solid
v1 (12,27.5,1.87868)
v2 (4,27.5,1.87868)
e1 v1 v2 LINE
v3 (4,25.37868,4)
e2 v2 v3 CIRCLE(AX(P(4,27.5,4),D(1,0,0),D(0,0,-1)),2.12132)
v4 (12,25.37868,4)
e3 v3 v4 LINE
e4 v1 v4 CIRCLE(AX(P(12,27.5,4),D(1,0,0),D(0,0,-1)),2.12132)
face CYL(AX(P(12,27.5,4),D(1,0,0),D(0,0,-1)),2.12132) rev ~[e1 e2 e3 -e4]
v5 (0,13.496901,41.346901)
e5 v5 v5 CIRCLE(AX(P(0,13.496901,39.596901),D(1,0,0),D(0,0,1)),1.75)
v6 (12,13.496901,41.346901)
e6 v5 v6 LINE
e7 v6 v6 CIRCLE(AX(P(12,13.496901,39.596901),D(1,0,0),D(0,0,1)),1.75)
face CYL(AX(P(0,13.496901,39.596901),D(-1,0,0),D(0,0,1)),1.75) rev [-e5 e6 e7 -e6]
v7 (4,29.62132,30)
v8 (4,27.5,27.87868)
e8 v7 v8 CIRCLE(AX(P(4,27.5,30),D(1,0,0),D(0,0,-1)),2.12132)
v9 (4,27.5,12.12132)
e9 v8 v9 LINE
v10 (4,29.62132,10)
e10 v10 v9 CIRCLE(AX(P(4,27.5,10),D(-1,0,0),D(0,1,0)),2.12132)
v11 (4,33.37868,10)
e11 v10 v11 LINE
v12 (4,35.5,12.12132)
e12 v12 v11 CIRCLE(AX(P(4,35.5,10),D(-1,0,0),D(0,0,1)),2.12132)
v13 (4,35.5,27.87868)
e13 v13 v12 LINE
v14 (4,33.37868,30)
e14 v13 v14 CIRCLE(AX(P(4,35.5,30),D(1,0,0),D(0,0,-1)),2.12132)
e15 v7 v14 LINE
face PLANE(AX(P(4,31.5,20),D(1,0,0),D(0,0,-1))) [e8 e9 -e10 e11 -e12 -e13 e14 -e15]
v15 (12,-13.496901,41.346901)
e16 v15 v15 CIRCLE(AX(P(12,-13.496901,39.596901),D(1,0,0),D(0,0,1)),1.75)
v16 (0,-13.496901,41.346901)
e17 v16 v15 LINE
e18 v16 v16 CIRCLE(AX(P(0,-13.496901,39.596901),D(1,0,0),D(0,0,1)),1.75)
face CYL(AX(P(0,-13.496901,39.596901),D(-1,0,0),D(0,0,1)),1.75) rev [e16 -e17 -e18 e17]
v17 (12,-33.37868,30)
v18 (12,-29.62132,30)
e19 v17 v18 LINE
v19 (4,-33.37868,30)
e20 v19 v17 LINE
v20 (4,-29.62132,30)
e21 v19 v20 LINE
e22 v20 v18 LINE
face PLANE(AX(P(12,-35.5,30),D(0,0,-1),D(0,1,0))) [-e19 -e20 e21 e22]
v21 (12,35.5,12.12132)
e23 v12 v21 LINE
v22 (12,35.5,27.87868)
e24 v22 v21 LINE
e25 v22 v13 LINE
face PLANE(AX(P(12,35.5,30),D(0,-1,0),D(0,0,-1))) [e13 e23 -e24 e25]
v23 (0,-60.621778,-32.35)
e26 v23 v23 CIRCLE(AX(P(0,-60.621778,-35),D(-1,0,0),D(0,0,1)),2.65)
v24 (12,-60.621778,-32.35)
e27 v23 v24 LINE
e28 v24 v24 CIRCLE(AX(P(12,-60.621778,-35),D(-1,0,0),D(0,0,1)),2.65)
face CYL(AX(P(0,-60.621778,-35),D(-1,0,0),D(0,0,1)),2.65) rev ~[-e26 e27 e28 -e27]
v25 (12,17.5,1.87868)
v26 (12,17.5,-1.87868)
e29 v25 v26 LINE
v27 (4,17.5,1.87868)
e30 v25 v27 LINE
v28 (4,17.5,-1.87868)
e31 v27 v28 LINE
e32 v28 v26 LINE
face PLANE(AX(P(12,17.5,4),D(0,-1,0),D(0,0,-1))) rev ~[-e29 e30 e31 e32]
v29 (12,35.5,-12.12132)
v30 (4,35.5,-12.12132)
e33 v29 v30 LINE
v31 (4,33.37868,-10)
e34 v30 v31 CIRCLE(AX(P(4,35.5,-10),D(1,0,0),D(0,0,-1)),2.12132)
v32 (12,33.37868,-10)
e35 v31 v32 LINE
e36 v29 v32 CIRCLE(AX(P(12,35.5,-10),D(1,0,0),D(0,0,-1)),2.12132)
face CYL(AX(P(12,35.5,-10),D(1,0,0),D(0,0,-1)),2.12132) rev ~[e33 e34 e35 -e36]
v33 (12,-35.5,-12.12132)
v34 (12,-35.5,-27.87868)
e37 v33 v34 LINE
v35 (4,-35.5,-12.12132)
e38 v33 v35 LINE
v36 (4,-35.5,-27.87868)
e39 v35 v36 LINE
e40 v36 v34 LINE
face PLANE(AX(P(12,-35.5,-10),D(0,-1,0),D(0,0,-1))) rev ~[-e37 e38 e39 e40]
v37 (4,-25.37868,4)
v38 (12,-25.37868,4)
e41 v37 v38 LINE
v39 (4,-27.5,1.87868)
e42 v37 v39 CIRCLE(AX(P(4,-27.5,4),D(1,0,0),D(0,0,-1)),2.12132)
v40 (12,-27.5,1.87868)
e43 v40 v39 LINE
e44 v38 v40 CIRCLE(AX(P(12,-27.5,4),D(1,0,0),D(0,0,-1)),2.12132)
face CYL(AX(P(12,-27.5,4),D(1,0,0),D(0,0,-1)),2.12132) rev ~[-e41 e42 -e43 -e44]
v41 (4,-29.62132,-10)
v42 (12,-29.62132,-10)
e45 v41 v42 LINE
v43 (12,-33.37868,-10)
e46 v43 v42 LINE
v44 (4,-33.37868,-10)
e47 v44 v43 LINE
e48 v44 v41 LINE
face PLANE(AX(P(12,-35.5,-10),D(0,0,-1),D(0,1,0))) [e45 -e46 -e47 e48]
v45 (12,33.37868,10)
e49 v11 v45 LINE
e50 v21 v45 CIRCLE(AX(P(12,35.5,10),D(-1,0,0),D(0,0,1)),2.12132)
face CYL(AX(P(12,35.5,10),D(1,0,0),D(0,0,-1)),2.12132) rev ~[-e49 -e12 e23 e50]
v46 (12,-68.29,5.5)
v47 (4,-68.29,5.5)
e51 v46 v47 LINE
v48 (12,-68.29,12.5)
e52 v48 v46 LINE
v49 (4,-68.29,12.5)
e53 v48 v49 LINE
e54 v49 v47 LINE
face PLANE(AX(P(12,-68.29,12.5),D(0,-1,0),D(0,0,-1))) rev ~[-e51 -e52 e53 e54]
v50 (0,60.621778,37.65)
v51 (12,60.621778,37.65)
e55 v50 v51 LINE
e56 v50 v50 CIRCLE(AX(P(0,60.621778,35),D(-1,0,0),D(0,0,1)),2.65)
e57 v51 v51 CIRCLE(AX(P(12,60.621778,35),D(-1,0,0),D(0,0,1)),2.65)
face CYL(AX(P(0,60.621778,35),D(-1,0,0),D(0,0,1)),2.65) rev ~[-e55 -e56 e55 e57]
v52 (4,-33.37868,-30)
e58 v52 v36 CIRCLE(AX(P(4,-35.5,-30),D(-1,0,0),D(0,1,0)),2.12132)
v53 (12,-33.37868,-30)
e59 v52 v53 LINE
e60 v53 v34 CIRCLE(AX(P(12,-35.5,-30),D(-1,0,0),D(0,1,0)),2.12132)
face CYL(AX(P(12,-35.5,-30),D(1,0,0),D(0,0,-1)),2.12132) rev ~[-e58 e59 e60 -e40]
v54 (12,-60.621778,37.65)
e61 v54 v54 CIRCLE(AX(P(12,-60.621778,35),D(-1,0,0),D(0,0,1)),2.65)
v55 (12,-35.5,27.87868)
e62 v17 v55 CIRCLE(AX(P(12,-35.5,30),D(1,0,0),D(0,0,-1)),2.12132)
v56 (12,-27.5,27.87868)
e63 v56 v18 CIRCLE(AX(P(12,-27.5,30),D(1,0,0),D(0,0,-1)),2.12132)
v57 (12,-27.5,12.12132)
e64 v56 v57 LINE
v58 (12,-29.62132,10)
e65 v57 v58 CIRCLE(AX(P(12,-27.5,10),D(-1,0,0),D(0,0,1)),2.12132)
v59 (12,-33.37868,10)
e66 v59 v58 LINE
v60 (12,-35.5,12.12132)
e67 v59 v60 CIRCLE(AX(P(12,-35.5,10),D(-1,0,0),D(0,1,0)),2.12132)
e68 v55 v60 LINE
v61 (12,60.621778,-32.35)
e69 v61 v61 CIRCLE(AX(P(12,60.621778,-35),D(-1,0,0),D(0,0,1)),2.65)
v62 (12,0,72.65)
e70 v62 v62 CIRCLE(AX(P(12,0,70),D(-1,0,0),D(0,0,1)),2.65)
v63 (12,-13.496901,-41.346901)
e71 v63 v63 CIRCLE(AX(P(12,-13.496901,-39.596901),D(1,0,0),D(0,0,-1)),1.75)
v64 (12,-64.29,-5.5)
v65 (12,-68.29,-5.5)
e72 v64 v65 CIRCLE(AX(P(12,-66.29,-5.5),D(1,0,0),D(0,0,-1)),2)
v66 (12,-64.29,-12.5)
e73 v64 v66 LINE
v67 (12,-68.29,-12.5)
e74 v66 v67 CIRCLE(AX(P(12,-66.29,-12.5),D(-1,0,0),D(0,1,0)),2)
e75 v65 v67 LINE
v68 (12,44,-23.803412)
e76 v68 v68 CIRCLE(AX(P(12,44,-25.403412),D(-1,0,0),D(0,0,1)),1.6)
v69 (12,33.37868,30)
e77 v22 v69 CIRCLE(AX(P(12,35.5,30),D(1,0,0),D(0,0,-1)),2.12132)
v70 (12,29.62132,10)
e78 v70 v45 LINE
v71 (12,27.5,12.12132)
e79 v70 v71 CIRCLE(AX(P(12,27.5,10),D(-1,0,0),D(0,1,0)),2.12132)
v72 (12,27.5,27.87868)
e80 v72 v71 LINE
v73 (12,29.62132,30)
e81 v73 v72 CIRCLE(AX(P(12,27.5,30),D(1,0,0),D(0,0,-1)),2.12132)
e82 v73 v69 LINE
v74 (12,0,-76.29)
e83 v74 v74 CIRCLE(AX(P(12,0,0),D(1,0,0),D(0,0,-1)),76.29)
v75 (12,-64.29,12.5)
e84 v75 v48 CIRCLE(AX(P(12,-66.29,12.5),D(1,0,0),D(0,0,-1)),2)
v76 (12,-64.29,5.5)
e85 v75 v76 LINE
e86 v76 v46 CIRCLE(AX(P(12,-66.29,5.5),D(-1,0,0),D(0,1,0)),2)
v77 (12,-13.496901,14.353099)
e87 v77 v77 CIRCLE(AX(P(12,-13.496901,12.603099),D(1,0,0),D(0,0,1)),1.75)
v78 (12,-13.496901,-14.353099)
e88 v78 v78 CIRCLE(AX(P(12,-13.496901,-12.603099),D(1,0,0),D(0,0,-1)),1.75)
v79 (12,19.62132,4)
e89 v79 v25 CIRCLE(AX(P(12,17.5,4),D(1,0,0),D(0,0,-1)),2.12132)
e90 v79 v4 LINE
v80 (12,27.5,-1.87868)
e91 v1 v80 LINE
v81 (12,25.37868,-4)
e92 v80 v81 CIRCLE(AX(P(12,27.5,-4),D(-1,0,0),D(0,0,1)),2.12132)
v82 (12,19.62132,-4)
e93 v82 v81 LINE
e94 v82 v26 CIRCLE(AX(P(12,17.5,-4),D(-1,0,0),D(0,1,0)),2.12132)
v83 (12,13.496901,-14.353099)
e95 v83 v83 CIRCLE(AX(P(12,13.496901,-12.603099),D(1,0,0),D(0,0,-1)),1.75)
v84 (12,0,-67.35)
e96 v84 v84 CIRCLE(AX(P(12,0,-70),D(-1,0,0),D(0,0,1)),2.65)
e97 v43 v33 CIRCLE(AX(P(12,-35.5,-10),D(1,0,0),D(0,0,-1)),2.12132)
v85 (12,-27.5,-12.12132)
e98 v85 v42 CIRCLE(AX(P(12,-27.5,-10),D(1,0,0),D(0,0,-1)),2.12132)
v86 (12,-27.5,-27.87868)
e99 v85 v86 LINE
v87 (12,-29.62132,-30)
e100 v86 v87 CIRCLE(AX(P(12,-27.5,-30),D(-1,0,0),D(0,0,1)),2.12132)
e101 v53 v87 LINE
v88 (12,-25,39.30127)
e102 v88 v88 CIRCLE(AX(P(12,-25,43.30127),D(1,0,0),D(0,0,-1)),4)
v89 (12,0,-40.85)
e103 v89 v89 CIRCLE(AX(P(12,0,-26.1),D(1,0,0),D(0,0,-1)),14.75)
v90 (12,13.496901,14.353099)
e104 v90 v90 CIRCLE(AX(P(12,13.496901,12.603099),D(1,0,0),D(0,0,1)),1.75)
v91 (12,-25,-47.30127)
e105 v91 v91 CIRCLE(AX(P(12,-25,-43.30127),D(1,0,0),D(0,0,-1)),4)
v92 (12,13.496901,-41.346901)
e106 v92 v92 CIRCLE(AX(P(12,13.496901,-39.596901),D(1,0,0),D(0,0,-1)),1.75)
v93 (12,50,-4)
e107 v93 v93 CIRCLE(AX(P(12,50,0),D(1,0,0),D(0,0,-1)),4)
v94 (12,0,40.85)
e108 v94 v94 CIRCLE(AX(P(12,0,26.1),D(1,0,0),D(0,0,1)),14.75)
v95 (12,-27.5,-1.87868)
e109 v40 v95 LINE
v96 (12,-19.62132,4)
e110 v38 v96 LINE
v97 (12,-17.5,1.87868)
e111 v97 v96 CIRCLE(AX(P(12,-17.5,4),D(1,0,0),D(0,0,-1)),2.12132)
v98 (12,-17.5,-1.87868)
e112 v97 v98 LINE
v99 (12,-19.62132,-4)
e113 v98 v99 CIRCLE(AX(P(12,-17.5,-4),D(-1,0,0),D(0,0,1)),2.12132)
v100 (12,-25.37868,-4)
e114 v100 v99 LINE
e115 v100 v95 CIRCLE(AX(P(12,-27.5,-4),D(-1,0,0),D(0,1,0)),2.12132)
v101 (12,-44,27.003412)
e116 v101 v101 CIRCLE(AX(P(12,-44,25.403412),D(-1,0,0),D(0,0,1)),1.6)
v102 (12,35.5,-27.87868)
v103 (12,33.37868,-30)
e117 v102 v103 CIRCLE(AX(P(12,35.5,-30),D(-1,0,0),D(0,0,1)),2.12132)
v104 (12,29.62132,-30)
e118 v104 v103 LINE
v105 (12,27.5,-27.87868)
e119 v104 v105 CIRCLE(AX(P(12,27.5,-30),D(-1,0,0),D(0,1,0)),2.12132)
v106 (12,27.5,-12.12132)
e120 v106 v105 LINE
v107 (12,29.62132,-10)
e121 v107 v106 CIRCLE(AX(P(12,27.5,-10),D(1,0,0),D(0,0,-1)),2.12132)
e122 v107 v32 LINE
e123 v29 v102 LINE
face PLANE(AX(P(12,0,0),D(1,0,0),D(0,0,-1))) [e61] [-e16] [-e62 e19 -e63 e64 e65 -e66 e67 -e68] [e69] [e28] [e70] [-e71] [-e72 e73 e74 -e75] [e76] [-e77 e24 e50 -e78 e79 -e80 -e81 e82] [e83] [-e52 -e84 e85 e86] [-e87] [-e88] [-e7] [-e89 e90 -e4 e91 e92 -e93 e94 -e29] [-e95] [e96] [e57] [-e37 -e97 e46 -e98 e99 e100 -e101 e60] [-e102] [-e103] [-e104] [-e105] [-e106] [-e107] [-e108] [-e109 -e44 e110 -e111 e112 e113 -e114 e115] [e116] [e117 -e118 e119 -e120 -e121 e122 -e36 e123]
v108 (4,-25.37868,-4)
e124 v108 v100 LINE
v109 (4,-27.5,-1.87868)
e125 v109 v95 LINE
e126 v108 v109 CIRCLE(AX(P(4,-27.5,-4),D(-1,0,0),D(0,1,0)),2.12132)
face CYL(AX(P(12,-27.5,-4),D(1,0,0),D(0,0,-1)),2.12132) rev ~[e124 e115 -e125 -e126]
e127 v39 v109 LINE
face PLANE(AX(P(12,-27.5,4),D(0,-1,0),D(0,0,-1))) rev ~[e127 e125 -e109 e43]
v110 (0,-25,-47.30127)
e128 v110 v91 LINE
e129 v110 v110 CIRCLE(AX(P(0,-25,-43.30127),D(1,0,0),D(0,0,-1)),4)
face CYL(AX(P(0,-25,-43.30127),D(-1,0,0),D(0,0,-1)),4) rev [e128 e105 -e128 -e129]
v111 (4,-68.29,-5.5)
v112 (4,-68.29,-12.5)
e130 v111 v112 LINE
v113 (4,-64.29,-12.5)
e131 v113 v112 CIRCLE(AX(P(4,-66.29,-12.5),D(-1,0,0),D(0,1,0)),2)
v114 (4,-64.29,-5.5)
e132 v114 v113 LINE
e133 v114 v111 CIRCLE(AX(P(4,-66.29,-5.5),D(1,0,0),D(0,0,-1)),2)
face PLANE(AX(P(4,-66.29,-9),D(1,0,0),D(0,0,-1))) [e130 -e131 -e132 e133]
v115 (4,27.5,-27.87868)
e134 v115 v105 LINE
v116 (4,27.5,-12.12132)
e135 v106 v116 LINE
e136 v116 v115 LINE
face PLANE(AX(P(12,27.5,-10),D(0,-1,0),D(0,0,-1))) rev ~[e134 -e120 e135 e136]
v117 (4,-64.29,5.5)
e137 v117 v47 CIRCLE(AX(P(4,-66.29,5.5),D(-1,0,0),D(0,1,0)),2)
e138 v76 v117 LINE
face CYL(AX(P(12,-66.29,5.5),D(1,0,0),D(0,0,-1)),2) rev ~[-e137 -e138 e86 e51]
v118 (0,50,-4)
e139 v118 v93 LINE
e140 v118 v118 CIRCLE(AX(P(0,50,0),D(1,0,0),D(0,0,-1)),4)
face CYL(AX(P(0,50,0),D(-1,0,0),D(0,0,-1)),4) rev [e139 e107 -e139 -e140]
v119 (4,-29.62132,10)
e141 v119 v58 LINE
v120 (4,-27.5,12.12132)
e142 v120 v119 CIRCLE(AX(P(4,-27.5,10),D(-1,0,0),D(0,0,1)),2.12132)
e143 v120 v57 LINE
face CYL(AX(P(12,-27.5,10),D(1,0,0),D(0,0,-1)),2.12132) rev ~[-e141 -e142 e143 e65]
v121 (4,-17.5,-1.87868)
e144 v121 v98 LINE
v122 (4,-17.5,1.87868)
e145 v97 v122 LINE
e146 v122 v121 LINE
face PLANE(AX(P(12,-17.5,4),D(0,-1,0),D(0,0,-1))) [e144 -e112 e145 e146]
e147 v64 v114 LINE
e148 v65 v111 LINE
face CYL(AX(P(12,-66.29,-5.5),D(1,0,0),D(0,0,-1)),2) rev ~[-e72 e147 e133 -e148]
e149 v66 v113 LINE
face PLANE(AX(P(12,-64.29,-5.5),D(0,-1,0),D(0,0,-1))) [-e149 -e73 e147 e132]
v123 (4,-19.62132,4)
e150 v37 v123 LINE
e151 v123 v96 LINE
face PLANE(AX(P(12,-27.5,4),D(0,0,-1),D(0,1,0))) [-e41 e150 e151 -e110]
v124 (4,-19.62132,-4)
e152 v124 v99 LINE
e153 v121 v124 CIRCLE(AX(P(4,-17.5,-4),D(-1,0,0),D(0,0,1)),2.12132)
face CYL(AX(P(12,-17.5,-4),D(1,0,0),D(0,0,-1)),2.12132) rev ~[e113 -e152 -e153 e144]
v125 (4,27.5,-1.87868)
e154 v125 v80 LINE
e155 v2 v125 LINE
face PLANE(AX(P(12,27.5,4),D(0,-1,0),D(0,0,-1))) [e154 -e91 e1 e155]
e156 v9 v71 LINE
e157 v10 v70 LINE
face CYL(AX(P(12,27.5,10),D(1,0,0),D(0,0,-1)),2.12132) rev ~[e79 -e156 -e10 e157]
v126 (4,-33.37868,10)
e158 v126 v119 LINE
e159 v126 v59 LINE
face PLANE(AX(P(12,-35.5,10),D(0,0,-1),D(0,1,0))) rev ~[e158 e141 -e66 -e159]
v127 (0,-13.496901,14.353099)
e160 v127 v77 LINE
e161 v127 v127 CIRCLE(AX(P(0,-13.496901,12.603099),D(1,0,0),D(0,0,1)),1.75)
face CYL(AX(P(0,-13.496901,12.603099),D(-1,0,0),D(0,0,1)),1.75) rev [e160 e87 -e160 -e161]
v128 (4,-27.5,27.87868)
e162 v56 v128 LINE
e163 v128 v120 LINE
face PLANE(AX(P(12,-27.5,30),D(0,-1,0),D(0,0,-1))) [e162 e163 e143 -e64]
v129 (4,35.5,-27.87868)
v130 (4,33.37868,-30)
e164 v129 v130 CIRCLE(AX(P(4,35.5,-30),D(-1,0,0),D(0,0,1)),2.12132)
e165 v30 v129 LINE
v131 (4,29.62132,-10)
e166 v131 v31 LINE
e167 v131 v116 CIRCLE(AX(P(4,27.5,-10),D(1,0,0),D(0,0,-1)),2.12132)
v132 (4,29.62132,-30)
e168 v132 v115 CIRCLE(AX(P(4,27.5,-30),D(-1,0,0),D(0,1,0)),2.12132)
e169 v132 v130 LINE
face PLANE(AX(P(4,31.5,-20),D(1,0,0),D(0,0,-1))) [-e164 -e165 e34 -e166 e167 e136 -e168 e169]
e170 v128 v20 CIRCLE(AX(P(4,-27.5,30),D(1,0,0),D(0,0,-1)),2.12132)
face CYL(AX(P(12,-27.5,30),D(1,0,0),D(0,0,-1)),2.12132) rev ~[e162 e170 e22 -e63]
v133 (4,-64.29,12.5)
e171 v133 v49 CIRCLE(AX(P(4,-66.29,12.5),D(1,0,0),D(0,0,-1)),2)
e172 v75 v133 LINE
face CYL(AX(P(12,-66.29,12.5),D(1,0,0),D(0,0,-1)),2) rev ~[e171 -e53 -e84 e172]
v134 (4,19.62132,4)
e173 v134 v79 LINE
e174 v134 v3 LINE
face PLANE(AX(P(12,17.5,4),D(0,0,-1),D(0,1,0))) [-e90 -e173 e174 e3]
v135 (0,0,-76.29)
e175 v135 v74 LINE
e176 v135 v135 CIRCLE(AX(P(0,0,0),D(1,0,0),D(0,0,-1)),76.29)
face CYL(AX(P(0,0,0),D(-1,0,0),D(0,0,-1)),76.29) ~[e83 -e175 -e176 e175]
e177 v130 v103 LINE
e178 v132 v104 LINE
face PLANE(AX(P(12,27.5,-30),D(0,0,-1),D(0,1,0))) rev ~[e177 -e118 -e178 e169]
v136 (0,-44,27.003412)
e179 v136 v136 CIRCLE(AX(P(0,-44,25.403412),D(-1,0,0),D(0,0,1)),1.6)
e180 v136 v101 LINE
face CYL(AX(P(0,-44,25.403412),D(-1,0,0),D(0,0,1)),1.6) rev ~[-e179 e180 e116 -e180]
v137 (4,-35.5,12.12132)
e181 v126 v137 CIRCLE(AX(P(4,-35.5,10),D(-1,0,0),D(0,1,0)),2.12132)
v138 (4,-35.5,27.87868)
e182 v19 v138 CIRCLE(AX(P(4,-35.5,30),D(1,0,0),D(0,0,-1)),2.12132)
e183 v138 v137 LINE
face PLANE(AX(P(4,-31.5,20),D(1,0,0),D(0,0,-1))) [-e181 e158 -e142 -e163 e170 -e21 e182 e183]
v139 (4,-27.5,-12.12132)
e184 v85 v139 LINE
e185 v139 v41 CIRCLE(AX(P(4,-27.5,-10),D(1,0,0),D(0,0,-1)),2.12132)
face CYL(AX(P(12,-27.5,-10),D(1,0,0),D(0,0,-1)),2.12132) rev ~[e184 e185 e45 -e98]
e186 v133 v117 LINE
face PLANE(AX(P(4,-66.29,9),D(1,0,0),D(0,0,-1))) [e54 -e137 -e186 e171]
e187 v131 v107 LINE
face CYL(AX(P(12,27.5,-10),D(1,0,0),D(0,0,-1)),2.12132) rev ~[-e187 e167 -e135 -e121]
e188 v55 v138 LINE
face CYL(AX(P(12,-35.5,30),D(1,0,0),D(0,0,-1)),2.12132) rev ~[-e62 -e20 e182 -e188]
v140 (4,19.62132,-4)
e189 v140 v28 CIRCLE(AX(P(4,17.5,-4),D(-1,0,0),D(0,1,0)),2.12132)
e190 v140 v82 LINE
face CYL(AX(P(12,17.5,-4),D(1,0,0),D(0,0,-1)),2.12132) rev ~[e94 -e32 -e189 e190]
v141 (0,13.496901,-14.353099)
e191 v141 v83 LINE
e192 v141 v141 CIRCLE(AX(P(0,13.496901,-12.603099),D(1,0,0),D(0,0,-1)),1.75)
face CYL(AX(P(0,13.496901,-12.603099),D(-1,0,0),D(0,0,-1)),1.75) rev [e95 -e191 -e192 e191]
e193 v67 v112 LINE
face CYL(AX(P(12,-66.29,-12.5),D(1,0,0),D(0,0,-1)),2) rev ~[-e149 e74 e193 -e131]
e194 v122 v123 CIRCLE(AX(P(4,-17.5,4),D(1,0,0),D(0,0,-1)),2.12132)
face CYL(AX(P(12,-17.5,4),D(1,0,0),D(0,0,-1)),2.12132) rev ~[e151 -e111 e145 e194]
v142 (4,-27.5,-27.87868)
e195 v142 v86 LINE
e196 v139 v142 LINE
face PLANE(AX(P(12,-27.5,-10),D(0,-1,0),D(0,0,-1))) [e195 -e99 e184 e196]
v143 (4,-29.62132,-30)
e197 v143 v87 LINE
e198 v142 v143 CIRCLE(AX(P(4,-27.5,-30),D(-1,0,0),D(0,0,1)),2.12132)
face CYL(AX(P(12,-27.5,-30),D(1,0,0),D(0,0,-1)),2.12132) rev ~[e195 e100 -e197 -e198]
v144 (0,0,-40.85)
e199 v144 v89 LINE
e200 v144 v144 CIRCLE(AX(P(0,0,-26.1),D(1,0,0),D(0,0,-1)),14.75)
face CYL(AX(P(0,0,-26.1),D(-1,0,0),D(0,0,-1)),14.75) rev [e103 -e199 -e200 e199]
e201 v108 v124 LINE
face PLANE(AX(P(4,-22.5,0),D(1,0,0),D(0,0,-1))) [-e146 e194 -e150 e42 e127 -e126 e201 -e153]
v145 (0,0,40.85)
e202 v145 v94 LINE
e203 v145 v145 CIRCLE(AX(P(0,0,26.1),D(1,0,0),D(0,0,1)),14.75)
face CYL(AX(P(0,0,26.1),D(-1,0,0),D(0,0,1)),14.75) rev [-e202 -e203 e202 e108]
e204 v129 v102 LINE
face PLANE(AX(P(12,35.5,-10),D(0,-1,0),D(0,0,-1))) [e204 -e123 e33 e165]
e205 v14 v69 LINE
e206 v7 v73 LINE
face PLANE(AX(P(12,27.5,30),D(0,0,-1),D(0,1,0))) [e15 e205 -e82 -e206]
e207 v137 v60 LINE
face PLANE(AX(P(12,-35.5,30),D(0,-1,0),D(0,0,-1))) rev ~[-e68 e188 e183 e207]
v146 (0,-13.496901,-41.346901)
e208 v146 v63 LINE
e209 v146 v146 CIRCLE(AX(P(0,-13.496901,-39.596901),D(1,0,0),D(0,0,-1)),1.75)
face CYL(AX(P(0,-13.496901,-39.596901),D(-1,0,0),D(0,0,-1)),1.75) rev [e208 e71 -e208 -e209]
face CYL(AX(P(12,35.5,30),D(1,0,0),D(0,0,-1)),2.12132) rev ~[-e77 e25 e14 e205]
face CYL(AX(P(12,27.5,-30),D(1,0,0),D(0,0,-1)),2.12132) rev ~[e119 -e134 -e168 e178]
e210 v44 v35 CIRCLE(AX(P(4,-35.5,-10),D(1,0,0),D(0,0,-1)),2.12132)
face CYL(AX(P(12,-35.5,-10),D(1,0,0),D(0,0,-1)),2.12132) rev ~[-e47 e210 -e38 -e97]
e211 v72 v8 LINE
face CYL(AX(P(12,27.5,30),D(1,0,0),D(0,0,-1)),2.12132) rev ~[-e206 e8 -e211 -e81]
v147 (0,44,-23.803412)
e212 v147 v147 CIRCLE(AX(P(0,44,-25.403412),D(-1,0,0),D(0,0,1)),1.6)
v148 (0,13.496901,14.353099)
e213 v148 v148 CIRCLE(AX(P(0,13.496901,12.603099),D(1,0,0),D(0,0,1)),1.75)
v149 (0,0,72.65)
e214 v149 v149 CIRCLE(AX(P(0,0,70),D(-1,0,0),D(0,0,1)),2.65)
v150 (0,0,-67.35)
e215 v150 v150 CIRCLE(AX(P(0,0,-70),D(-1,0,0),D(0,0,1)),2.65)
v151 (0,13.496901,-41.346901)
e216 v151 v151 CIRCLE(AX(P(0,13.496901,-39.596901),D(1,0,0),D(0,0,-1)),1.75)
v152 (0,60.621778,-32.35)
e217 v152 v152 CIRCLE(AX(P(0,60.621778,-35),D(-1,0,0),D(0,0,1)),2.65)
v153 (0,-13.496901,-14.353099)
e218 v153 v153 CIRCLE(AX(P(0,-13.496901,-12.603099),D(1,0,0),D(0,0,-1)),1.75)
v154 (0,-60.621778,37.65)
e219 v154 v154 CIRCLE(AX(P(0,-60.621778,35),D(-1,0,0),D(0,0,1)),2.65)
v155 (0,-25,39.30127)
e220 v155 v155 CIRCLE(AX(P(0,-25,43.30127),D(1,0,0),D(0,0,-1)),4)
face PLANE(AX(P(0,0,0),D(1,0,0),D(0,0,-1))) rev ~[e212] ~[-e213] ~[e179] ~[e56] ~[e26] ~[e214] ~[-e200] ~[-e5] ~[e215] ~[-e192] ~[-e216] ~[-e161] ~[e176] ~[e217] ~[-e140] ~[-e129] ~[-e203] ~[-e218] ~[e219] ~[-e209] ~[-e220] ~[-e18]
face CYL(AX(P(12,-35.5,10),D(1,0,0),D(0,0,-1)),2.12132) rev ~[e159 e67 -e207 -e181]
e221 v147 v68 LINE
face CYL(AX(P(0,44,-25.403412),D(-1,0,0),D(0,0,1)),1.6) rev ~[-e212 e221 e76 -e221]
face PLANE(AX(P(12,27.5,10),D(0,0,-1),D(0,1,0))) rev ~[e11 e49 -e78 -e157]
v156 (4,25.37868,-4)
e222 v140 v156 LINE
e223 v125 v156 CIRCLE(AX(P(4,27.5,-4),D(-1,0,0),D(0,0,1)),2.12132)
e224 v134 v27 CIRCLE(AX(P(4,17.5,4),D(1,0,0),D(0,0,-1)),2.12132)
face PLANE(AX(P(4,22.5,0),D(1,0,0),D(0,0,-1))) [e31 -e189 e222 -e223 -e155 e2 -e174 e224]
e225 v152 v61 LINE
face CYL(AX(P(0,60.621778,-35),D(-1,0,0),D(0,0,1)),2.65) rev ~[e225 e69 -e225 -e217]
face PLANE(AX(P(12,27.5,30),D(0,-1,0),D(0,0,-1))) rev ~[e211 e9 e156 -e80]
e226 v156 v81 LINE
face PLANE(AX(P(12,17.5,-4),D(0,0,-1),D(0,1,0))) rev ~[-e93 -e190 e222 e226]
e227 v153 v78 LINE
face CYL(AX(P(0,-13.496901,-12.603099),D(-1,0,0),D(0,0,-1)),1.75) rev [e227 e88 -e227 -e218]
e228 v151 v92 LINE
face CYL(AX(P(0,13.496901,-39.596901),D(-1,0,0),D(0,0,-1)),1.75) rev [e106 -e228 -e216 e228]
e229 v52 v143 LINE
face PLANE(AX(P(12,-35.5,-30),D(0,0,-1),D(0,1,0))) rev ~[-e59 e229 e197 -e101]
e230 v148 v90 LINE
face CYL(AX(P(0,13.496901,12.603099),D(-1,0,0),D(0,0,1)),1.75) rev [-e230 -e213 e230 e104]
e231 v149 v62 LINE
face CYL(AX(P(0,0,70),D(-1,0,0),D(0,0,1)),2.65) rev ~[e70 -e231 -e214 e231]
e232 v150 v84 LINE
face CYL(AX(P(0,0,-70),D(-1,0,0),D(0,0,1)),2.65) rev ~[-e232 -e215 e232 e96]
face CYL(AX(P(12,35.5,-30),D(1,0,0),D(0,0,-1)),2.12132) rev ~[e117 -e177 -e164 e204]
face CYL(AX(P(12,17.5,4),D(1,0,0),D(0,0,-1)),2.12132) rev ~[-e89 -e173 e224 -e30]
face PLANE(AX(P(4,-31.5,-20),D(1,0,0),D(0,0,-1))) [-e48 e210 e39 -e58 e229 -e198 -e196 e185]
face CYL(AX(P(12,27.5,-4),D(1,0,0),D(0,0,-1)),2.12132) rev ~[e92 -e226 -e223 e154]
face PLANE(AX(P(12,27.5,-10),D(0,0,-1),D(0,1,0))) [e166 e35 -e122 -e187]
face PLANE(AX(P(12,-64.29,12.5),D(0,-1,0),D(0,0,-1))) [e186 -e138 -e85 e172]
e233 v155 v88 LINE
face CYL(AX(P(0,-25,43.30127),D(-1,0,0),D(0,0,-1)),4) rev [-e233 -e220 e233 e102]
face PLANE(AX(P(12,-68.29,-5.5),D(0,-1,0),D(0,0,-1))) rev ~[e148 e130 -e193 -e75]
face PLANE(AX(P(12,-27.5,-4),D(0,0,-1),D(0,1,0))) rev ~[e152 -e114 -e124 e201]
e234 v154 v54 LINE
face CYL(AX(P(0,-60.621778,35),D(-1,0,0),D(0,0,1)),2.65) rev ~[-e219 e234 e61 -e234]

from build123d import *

# Parameters (mm, degrees)
SKETCH1_R           = 76.29
SKETCH1_R_2         = 4
SKETCH1_R_3         = 14.75
SKETCH1_R_4         = 1.75
BOSS_EXTRUDE1_DEPTH = 12
SKETCH2_W           = 20
SKETCH2_H           = 8
SKETCH2_W_2         = 8
SKETCH2_H_2         = 10
SKETCH2_W_3         = 7
SKETCH2_H_3         = 4
CUT_EXTRUDE1_DEPTH  = 8
CUT_EXTRUDE2_REACH  = 110.556
SKETCH3_R           = 2.65
SKETCH4_R           = 2.121320344
SKETCH4_R_2         = 2
CUT_EXTRUDE3_DEPTH  = 8
CUT_EXTRUDE4_REACH  = 110.556
SKETCH5_R           = 1.6


with BuildPart() as part:
    # Sketch1 → Boss-Extrude1 (new body)
    with BuildSketch(Plane(origin=(0, 0, 0), x_dir=(0, 0, -1), z_dir=(1, 0, 0))):
        Circle(SKETCH1_R)
        with Locations((0, 50)):
            Circle(SKETCH1_R_2, mode=Mode.SUBTRACT)
        with Locations((43.301270189, -25)):
            Circle(SKETCH1_R_2, mode=Mode.SUBTRACT)
        with Locations((-43.301270189, -25)):
            Circle(SKETCH1_R_2, mode=Mode.SUBTRACT)
        with Locations((26.1, 0)):
            Circle(SKETCH1_R_3, mode=Mode.SUBTRACT)
        with Locations(Location((-26.1, 0, 0), (0, 0, 180))):
            Circle(SKETCH1_R_3, mode=Mode.SUBTRACT)
        with Locations((39.596900686, 13.496900686)):
            Circle(SKETCH1_R_4, mode=Mode.SUBTRACT)
        with Locations((39.596900686, -13.496900686)):
            Circle(SKETCH1_R_4, mode=Mode.SUBTRACT)
        with Locations((12.603099314, -13.496900686)):
            Circle(SKETCH1_R_4, mode=Mode.SUBTRACT)
        with Locations((12.603099314, 13.496900686)):
            Circle(SKETCH1_R_4, mode=Mode.SUBTRACT)
        with Locations(Location((-39.596900686, -13.496900686, 0), (0, 0, 180))):
            Circle(SKETCH1_R_4, mode=Mode.SUBTRACT)
        with Locations(Location((-12.603099314, -13.496900686, 0), (0, 0, 180))):
            Circle(SKETCH1_R_4, mode=Mode.SUBTRACT)
        with Locations(Location((-12.603099314, 13.496900686, 0), (0, 0, 180))):
            Circle(SKETCH1_R_4, mode=Mode.SUBTRACT)
        with Locations(Location((-39.596900686, 13.496900686, 0), (0, 0, 180))):
            Circle(SKETCH1_R_4, mode=Mode.SUBTRACT)
    extrude(amount=BOSS_EXTRUDE1_DEPTH)

    # Sketch2 → Cut-Extrude1 (cut)
    with BuildSketch(Plane(origin=(12, 0, 0), x_dir=(0, 0, -1), z_dir=(1, 0, 0))):
        with Locations((20, -31.5)):
            Rectangle(SKETCH2_W, SKETCH2_H)
        with Locations((-20, -31.5)):
            Rectangle(SKETCH2_W, SKETCH2_H)
        with Locations((-20, 31.5)):
            Rectangle(SKETCH2_W, SKETCH2_H)
        with Locations((20, 31.5)):
            Rectangle(SKETCH2_W, SKETCH2_H)
        with Locations((0, -22.5)):
            Rectangle(SKETCH2_W_2, SKETCH2_H_2)
        with Locations((0, 22.5)):
            Rectangle(SKETCH2_W_2, SKETCH2_H_2)
        with Locations((-9, -66.29)):
            Rectangle(SKETCH2_W_3, SKETCH2_H_3)
        with Locations((9, -66.29)):
            Rectangle(SKETCH2_W_3, SKETCH2_H_3)
    extrude(amount=-CUT_EXTRUDE1_DEPTH, mode=Mode.SUBTRACT)

    # Sketch3 → Cut-Extrude2 (cut, up to next)
    with BuildSketch(Plane.ZY, mode=Mode.PRIVATE) as cut_extrude2_sk1:
        with Locations((-70, 0)):
            Circle(SKETCH3_R)
    cut_extrude2_tool1 = extrude(cut_extrude2_sk1.sketch, amount=-CUT_EXTRUDE2_REACH, mode=Mode.PRIVATE) & part.part
    # Sketch3 → Cut-Extrude2 (cut, up to next)
    with BuildSketch(Plane.ZY, mode=Mode.PRIVATE) as cut_extrude2_sk2:
        with Locations((-35, 60.621778265)):
            Circle(SKETCH3_R)
    cut_extrude2_tool2 = extrude(cut_extrude2_sk2.sketch, amount=-CUT_EXTRUDE2_REACH, mode=Mode.PRIVATE) & part.part
    # Sketch3 → Cut-Extrude2 (cut, up to next)
    with BuildSketch(Plane.ZY, mode=Mode.PRIVATE) as cut_extrude2_sk3:
        with Locations((35, 60.621778265)):
            Circle(SKETCH3_R)
    cut_extrude2_tool3 = extrude(cut_extrude2_sk3.sketch, amount=-CUT_EXTRUDE2_REACH, mode=Mode.PRIVATE) & part.part
    # Sketch3 → Cut-Extrude2 (cut, up to next)
    with BuildSketch(Plane.ZY, mode=Mode.PRIVATE) as cut_extrude2_sk4:
        with Locations((70, 0)):
            Circle(SKETCH3_R)
    cut_extrude2_tool4 = extrude(cut_extrude2_sk4.sketch, amount=-CUT_EXTRUDE2_REACH, mode=Mode.PRIVATE) & part.part
    # Sketch3 → Cut-Extrude2 (cut, up to next)
    with BuildSketch(Plane.ZY, mode=Mode.PRIVATE) as cut_extrude2_sk5:
        with Locations((35, -60.621778265)):
            Circle(SKETCH3_R)
    cut_extrude2_tool5 = extrude(cut_extrude2_sk5.sketch, amount=-CUT_EXTRUDE2_REACH, mode=Mode.PRIVATE) & part.part
    # Sketch3 → Cut-Extrude2 (cut, up to next)
    with BuildSketch(Plane.ZY, mode=Mode.PRIVATE) as cut_extrude2_sk6:
        with Locations((-35, -60.621778265)):
            Circle(SKETCH3_R)
    cut_extrude2_tool6 = extrude(cut_extrude2_sk6.sketch, amount=-CUT_EXTRUDE2_REACH, mode=Mode.PRIVATE) & part.part
    add(cut_extrude2_tool1.solids().sort_by_distance((0, 0, -70))[0], mode=Mode.SUBTRACT)
    add(cut_extrude2_tool2.solids().sort_by_distance((0, 60.621778, -35))[0], mode=Mode.SUBTRACT)
    add(cut_extrude2_tool3.solids().sort_by_distance((0, 60.621778, 35))[0], mode=Mode.SUBTRACT)
    add(cut_extrude2_tool4.solids().sort_by_distance((0, 0, 70))[0], mode=Mode.SUBTRACT)
    add(cut_extrude2_tool5.solids().sort_by_distance((0, -60.621778, 35))[0], mode=Mode.SUBTRACT)
    add(cut_extrude2_tool6.solids().sort_by_distance((0, -60.621778, -35))[0], mode=Mode.SUBTRACT)

    # Sketch4 → Cut-Extrude3 (cut)
    with BuildSketch(Plane(origin=(12, 0, 0), x_dir=(0, 0, -1), z_dir=(1, 0, 0))):
        with Locations((-10, -35.5)):
            Circle(SKETCH4_R)
        with Locations((-10, -27.5)):
            Circle(SKETCH4_R)
        with Locations((-30, -27.5)):
            Circle(SKETCH4_R)
        with Locations((-30, -35.5)):
            Circle(SKETCH4_R)
        with Locations((12.5, -66.29)):
            Circle(SKETCH4_R_2)
        with Locations((5.5, -66.29)):
            Circle(SKETCH4_R_2)
        with Locations((-5.5, -66.29)):
            Circle(SKETCH4_R_2)
        with Locations((-12.5, -66.29)):
            Circle(SKETCH4_R_2)
        with Locations((10, -35.5)):
            Circle(SKETCH4_R)
        with Locations((10, -27.5)):
            Circle(SKETCH4_R)
        with Locations((30, -27.5)):
            Circle(SKETCH4_R)
        with Locations((30, -35.5)):
            Circle(SKETCH4_R)
        with Locations((4, -27.5)):
            Circle(SKETCH4_R)
        with Locations((-4, -27.5)):
            Circle(SKETCH4_R)
        with Locations((-4, -17.5)):
            Circle(SKETCH4_R)
        with Locations((4, -17.5)):
            Circle(SKETCH4_R)
        with Locations((4, 27.5)):
            Circle(SKETCH4_R)
        with Locations((-4, 27.5)):
            Circle(SKETCH4_R)
        with Locations((-4, 17.5)):
            Circle(SKETCH4_R)
        with Locations((4, 17.5)):
            Circle(SKETCH4_R)
        with Locations((10, 27.5)):
            Circle(SKETCH4_R)
        with Locations((10, 35.5)):
            Circle(SKETCH4_R)
        with Locations((30, 35.5)):
            Circle(SKETCH4_R)
        with Locations((30, 27.5)):
            Circle(SKETCH4_R)
        with Locations((-10, 35.5)):
            Circle(SKETCH4_R)
        with Locations((-10, 27.5)):
            Circle(SKETCH4_R)
        with Locations((-30, 27.5)):
            Circle(SKETCH4_R)
        with Locations((-30, 35.5)):
            Circle(SKETCH4_R)
    extrude(amount=-CUT_EXTRUDE3_DEPTH, mode=Mode.SUBTRACT)

    # Sketch5 → Cut-Extrude4 (cut, up to next)
    with BuildSketch(Plane.ZY, mode=Mode.PRIVATE) as cut_extrude4_sk1:
        with Locations((25.403411844, -44)):
            Circle(SKETCH5_R)
    cut_extrude4_tool1 = extrude(cut_extrude4_sk1.sketch, amount=-CUT_EXTRUDE4_REACH, mode=Mode.PRIVATE) & part.part
    # Sketch5 → Cut-Extrude4 (cut, up to next)
    with BuildSketch(Plane.ZY, mode=Mode.PRIVATE) as cut_extrude4_sk2:
        with Locations((-25.403411844, 44)):
            Circle(SKETCH5_R)
    cut_extrude4_tool2 = extrude(cut_extrude4_sk2.sketch, amount=-CUT_EXTRUDE4_REACH, mode=Mode.PRIVATE) & part.part
    add(cut_extrude4_tool1.solids().sort_by_distance((0, -44, 25.403412))[0], mode=Mode.SUBTRACT)
    add(cut_extrude4_tool2.solids().sort_by_distance((0, 44, -25.403412))[0], mode=Mode.SUBTRACT)


solid = part.part
